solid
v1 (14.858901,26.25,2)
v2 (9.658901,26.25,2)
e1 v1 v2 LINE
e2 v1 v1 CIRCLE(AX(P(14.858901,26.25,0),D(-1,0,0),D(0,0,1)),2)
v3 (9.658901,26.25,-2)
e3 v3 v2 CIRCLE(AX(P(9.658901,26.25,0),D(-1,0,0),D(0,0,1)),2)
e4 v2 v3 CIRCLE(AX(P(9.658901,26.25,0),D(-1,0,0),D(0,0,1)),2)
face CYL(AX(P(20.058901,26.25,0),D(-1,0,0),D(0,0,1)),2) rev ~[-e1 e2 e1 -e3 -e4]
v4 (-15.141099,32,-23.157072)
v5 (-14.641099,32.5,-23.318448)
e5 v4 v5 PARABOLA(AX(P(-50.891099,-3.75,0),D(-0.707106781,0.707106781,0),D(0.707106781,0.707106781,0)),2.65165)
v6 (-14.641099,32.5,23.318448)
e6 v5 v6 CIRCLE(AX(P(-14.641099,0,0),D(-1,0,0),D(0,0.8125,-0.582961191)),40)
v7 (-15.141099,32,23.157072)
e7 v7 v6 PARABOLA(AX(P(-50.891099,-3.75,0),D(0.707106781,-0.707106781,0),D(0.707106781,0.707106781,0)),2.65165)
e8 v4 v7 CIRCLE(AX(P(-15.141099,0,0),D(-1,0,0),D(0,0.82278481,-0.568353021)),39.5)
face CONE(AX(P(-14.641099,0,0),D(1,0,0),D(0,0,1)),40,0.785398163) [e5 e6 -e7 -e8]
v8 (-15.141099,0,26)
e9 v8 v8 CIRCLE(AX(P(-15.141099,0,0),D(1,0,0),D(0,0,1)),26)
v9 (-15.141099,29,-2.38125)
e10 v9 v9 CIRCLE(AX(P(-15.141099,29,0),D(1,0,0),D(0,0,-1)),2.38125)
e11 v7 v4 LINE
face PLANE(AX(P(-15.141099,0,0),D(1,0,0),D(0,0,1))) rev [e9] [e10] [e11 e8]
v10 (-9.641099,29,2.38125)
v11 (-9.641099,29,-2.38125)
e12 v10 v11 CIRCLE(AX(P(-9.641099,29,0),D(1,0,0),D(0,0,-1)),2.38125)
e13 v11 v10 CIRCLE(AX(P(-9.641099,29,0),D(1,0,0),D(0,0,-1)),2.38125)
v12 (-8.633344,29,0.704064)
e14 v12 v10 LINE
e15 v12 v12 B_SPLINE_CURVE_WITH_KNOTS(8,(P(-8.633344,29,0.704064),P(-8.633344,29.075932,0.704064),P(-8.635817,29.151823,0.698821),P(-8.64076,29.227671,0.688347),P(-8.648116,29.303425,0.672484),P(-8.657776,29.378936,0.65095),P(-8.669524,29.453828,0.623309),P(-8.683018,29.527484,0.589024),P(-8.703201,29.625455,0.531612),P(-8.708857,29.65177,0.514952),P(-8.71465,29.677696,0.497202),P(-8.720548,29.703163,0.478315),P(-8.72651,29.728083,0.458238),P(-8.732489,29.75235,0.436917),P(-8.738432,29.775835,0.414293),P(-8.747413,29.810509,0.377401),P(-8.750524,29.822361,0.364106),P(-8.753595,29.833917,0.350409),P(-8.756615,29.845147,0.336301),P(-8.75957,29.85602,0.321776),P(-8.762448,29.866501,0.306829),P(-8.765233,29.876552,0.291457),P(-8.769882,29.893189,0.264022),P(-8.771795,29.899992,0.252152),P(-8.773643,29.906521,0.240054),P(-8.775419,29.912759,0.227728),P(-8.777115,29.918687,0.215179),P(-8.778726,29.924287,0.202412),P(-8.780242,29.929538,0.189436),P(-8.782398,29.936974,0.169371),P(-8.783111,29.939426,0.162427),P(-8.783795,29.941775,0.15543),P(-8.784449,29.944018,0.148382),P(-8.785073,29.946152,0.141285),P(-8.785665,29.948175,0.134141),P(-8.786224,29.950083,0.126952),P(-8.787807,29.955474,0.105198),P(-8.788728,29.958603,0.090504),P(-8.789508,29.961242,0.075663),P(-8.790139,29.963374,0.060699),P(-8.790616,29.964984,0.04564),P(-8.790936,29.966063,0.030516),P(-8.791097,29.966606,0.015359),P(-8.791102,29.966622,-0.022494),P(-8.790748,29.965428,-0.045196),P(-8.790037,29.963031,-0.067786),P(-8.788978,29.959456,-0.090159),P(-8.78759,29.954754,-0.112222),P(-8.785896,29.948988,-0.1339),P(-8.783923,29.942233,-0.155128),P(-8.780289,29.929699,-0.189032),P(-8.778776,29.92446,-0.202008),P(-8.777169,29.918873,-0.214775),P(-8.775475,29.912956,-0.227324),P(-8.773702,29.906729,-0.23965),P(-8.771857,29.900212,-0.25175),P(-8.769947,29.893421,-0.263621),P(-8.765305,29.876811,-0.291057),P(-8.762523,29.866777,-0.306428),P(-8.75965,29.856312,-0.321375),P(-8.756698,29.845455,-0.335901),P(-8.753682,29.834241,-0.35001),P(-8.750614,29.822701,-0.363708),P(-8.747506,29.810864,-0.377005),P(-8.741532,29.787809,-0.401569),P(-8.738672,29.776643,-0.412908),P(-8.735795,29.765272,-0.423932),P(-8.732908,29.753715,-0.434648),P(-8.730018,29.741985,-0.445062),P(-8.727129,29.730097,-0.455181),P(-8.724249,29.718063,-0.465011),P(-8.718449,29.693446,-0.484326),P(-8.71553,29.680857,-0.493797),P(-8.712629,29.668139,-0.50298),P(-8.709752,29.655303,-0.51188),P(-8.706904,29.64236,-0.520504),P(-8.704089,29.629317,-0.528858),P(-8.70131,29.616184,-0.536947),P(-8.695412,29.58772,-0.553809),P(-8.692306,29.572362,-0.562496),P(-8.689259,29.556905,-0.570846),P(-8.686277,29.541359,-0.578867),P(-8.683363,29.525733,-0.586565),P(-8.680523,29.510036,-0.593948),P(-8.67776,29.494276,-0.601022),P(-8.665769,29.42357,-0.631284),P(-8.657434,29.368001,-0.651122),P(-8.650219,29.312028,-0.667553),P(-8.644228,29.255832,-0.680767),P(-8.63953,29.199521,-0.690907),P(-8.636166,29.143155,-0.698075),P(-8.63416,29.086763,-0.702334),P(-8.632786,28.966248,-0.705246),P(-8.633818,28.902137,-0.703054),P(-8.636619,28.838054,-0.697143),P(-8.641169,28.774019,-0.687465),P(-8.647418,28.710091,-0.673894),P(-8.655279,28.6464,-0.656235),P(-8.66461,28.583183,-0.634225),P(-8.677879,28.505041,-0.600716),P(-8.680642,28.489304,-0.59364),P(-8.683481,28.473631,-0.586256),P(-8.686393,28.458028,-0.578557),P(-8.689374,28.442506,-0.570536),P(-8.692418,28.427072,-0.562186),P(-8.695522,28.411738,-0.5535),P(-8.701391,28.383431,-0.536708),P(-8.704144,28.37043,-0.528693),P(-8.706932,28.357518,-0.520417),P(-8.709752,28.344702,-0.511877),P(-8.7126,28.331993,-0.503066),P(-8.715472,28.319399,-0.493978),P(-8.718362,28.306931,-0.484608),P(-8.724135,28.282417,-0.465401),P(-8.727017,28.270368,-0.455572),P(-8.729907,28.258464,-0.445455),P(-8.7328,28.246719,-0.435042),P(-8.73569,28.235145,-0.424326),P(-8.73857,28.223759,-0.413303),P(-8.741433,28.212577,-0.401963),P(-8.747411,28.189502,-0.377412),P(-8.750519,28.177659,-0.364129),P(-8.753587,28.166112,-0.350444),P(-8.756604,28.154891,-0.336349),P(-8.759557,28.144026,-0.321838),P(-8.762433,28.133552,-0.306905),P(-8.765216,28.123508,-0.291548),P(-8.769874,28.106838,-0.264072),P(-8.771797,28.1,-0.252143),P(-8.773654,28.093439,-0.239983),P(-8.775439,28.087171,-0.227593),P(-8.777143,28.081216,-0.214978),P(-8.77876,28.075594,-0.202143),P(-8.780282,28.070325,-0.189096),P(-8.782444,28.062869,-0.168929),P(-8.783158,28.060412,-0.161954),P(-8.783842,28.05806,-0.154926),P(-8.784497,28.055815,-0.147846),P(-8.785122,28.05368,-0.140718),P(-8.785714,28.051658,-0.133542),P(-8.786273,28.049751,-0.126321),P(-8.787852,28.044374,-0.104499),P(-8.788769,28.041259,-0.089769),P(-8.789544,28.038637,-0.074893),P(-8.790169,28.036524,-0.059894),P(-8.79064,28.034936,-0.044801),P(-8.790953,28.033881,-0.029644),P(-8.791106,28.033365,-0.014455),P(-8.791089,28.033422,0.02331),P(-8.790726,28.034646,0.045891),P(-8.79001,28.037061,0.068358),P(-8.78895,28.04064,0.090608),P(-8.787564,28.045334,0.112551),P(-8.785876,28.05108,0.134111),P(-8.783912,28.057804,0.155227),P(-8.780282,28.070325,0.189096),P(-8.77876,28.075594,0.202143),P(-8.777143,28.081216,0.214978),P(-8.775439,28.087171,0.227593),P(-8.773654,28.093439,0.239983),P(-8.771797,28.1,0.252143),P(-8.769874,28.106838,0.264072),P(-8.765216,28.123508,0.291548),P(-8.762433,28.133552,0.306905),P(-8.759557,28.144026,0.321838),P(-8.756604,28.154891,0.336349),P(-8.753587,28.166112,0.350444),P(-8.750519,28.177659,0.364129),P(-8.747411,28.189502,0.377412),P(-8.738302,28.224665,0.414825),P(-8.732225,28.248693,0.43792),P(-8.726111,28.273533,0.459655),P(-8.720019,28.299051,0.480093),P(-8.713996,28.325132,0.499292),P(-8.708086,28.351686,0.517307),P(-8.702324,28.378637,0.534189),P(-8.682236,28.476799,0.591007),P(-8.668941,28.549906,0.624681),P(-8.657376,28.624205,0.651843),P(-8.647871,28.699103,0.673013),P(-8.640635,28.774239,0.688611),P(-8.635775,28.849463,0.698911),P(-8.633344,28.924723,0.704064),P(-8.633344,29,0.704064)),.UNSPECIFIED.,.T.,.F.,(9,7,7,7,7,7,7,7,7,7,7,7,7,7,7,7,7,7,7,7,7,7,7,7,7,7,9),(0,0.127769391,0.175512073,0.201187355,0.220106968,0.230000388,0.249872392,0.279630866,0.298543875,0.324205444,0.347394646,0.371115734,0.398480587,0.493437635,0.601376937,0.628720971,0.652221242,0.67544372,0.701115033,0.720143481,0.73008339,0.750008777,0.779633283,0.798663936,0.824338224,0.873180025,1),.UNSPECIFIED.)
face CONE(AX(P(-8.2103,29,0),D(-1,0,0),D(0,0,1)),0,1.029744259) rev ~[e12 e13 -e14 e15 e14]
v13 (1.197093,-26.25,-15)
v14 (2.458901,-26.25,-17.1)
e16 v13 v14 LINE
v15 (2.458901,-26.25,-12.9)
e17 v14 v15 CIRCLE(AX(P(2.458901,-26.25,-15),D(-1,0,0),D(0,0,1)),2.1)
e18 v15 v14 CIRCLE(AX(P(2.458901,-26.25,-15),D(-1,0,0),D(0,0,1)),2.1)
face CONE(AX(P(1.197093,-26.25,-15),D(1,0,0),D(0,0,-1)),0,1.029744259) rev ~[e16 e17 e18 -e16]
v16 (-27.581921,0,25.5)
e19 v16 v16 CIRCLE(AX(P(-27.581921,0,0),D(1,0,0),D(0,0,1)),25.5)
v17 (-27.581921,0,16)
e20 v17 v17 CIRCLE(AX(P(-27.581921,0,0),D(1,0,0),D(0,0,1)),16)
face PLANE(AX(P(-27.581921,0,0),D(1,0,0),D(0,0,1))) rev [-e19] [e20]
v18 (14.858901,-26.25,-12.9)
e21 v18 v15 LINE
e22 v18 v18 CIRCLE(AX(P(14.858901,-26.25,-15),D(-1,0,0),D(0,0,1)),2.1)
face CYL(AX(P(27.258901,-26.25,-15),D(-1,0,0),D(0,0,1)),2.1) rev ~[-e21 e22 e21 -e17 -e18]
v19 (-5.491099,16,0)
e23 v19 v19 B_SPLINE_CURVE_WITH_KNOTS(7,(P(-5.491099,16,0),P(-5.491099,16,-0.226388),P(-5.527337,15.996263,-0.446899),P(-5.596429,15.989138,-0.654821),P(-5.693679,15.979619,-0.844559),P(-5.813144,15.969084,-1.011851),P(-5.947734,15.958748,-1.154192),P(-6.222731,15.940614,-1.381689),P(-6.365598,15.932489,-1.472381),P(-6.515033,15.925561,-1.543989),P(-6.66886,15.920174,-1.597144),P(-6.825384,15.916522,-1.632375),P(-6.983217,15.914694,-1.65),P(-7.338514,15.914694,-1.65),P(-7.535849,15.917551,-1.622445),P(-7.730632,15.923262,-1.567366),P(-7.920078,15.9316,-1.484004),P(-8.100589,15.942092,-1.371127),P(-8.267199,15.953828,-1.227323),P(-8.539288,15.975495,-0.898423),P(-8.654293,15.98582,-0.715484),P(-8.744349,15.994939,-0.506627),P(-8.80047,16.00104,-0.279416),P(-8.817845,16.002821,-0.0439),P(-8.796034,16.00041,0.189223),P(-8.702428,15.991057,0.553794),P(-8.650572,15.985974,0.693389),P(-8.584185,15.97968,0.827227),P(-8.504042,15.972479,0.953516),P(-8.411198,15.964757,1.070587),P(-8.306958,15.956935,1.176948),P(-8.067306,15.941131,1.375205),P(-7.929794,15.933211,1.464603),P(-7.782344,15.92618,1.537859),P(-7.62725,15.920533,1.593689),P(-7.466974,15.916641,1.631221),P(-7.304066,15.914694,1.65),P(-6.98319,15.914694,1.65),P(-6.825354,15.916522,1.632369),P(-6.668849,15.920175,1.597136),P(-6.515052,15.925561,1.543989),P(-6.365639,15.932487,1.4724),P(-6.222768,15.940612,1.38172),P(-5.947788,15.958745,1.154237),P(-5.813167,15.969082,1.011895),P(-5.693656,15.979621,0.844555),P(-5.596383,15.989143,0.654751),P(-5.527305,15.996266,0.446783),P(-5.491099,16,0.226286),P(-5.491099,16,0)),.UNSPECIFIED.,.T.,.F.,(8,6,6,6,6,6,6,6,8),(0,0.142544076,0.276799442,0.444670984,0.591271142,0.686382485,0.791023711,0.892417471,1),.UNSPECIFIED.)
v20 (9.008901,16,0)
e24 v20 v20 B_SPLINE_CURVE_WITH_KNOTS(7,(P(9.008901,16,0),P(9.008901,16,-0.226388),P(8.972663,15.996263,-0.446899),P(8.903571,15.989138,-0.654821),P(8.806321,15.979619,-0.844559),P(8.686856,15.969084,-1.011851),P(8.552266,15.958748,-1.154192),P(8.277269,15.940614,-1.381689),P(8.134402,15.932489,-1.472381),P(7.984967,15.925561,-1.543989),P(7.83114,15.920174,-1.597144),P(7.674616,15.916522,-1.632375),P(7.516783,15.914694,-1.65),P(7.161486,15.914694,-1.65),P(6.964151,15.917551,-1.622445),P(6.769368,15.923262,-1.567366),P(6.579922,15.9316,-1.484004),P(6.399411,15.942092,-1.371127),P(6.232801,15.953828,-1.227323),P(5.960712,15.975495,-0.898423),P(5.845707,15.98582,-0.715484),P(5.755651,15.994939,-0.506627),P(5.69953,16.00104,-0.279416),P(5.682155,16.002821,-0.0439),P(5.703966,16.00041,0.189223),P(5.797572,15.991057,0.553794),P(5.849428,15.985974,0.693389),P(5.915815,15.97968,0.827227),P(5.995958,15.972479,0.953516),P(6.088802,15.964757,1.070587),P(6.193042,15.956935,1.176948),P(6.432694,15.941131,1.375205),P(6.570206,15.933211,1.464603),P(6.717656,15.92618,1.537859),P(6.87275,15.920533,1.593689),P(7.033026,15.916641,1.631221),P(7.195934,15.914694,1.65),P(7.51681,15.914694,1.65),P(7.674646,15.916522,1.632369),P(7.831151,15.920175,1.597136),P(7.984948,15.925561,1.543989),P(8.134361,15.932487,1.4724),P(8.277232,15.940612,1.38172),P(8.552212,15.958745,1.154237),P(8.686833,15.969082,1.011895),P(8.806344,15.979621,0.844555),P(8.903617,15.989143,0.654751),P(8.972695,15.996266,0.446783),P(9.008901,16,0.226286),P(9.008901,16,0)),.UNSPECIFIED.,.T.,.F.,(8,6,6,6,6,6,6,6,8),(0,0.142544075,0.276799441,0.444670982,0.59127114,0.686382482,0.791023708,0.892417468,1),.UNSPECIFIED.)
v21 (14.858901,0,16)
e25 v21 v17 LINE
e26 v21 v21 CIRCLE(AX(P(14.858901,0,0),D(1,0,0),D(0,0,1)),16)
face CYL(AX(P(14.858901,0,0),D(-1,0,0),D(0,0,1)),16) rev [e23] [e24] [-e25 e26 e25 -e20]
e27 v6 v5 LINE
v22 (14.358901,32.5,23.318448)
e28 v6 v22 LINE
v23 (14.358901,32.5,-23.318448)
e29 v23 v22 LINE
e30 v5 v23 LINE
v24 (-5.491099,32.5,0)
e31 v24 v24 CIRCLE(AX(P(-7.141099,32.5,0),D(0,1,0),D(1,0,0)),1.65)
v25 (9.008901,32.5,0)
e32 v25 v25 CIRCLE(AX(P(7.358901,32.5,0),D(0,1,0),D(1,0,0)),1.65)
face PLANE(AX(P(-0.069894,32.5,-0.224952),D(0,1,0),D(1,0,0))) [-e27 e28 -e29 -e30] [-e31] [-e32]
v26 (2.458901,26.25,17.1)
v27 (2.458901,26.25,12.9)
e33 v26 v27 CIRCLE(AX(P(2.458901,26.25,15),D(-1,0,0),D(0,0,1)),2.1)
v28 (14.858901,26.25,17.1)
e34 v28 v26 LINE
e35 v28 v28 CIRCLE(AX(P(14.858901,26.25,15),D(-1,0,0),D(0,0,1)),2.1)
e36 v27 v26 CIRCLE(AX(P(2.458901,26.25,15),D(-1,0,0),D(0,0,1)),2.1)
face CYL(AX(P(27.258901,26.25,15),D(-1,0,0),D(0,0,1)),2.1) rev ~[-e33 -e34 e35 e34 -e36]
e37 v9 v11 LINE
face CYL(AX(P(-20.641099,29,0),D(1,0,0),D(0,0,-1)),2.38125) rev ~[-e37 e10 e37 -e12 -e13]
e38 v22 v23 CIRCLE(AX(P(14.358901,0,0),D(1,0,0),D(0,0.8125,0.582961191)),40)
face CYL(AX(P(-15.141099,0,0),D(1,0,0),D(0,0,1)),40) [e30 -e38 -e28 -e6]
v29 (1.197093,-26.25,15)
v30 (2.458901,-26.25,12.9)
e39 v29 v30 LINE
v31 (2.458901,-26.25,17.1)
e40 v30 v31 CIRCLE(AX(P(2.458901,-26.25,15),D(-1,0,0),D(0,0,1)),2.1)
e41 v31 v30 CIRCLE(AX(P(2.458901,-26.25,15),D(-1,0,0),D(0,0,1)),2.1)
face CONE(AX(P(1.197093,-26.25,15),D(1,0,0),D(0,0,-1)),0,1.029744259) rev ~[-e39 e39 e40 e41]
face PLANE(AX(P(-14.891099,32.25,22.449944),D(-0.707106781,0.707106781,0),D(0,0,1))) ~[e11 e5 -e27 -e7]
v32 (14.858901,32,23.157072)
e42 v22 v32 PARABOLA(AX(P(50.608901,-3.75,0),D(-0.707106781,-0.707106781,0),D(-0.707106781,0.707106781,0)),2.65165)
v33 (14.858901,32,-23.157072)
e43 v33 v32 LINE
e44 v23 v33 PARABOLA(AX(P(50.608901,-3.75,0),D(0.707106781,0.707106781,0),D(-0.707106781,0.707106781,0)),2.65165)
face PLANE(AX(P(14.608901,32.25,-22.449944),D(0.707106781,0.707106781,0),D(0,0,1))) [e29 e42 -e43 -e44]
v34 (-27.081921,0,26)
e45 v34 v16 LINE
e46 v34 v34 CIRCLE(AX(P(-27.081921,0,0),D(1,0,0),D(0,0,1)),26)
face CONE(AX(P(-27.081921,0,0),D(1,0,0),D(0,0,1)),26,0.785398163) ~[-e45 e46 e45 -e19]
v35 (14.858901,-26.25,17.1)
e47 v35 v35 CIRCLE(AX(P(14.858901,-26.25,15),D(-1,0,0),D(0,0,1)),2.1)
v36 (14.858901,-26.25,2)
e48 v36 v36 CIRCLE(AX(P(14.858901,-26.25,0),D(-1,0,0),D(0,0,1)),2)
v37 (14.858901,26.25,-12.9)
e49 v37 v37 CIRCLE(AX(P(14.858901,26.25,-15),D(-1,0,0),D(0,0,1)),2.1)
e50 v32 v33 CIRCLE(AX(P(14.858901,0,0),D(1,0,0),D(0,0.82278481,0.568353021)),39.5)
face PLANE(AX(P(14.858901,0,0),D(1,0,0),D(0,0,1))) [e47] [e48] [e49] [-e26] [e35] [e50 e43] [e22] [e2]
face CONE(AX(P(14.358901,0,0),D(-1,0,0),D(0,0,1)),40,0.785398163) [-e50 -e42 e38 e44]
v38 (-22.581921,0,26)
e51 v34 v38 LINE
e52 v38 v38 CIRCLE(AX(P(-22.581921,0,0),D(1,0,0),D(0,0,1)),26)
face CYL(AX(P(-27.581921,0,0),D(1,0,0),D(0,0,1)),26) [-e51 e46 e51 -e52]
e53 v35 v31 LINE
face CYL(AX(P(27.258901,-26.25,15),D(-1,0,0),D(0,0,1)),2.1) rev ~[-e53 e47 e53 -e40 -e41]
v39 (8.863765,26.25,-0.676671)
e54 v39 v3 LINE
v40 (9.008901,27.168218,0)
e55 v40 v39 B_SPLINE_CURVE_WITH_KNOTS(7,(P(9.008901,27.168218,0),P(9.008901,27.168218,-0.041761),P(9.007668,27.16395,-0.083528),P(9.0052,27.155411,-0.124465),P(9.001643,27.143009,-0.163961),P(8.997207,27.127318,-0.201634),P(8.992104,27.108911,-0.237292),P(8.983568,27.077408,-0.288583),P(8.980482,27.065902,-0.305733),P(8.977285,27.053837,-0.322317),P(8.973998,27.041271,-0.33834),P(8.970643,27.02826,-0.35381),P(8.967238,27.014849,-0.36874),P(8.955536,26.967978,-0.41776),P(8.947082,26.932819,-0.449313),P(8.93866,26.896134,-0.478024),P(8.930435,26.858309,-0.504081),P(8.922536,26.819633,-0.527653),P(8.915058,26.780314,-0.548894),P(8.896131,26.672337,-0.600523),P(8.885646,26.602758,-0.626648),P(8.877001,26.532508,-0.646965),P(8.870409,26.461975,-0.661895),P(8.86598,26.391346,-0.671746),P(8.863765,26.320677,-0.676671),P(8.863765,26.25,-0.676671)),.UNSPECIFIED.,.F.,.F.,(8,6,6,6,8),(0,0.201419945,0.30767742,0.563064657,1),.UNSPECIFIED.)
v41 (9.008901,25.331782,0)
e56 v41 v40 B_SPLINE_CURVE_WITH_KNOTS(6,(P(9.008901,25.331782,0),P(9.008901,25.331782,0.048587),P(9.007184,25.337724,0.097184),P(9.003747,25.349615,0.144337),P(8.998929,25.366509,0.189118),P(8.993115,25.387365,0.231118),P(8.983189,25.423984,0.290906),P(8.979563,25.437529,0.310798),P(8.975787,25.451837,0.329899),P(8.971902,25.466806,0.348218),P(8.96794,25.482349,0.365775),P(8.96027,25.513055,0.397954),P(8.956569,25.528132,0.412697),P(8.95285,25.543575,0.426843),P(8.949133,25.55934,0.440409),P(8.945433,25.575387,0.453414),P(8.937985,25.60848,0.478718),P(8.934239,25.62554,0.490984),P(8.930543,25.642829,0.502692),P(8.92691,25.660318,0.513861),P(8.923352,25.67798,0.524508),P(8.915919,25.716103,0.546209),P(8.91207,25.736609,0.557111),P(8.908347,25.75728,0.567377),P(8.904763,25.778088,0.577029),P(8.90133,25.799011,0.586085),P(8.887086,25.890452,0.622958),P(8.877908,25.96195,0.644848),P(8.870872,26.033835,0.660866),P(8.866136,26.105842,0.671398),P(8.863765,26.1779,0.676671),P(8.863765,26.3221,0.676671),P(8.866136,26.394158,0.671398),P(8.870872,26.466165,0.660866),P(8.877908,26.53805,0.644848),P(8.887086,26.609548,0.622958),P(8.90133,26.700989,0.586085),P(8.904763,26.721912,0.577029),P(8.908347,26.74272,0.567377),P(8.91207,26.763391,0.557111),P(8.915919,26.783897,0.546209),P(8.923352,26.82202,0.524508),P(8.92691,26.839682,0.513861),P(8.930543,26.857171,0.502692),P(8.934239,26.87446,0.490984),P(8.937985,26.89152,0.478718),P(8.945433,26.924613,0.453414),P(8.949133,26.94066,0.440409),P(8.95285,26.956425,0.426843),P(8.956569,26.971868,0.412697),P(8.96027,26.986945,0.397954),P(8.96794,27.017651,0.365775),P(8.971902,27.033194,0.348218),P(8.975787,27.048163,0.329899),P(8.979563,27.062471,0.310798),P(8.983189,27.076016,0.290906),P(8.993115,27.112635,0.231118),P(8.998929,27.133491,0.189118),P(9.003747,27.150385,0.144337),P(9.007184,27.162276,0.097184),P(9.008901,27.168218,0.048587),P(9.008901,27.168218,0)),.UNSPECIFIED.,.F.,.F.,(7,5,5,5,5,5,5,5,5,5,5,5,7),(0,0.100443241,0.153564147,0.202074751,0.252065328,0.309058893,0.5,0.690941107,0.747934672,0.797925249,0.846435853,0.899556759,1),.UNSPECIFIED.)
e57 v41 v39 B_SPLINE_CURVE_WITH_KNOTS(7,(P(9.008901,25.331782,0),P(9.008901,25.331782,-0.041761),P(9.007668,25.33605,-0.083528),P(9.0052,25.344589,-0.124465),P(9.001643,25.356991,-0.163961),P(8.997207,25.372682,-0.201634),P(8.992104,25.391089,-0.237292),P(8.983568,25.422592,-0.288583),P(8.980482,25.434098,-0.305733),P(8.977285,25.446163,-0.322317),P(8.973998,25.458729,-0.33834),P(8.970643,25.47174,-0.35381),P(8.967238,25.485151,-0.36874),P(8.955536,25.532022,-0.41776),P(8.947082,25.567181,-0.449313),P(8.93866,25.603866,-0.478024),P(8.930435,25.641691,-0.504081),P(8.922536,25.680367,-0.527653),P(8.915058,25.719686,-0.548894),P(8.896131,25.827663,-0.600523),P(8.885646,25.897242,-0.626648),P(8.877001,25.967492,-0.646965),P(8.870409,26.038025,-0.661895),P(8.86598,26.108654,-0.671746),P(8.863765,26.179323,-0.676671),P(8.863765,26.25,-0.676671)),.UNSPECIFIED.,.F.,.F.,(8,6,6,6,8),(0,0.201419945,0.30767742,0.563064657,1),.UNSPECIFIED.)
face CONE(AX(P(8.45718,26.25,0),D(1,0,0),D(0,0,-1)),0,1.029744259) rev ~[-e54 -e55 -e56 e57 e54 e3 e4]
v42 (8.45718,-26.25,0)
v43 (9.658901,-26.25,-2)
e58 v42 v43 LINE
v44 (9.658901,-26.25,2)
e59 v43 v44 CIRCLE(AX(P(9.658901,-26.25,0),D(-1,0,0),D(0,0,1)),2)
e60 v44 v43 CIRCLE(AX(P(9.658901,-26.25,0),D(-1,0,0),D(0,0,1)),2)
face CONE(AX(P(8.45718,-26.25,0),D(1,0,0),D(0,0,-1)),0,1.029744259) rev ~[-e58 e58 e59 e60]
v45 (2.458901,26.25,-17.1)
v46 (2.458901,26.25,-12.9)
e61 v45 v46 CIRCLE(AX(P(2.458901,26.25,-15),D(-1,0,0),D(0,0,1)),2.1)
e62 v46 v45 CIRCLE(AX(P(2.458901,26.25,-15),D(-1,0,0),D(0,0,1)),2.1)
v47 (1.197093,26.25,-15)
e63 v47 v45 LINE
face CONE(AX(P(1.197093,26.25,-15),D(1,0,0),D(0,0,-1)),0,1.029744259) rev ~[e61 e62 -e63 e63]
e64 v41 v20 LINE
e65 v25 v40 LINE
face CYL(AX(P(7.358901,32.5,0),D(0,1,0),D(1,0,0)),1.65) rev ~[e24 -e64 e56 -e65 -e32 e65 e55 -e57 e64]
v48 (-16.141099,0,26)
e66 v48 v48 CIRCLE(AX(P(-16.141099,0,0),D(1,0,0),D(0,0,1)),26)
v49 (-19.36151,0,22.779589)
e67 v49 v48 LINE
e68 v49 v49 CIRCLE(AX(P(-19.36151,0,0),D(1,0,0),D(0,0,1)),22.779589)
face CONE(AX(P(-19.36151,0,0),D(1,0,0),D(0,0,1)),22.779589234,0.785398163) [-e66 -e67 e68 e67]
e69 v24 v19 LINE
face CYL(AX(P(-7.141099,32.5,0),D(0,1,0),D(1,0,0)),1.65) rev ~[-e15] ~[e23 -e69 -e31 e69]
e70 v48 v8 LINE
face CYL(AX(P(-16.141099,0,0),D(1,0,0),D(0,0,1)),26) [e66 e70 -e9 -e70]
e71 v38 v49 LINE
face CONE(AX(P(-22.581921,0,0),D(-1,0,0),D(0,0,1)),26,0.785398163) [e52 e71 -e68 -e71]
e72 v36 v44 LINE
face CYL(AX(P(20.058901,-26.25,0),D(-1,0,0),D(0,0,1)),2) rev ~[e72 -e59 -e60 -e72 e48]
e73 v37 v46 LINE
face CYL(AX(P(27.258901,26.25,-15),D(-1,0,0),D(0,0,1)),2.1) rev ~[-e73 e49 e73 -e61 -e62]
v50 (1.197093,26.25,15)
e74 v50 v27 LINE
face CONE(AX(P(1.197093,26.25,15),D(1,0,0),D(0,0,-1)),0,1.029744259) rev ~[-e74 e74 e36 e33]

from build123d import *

# Parameters (mm, degrees)
CHAMFER1_SIZE                   = 0.5
SKETCH3_W                       = 30.914832272
SKETCH3_H                       = 82.011072724
CUT_EXTRUDE2_DEPTH              = 7.5
CHAMFER2_SIZE                   = 0.5
F_3_16_0_1875_DOWEL_HOLE1_D     = 4.7625
F_3_16_0_1875_DOWEL_HOLE1_DEPTH = 5.5
F_3_16_0_1875_DOWEL_HOLE1_TIP   = 1.430799349
M5X0_8_TAPPED_HOLE1_D           = 4.2
M5X0_8_TAPPED_HOLE1_DEPTH       = 12.4
M5X0_8_TAPPED_HOLE1_TIP         = 1.2618073
F_4_0MM_DOWEL_HOLE1_D           = 4
F_4_0MM_DOWEL_HOLE1_DEPTH       = 5.2
F_4_0MM_DOWEL_HOLE1_TIP         = 1.201721238
M4X0_7_TAPPED_HOLE1_REACH       = 89.275
M4X0_7_TAPPED_HOLE1_BORE_R      = 1.65


with BuildPart() as part:
    # Sketch1 → Revolve1 (revolve)
    with BuildSketch(Plane.XY, mode=Mode.PRIVATE) as revolve1_sk:
        Polygon((-27.58192079, 26), (-22.58192079, 26), (-19.361510024, 22.779589234), (-16.141099258, 26), (-15.141099258, 26), (-15.141099258, 40), (14.858900742, 40), (14.858900742, 16), (-27.58192079, 16), align=None)
    revolve(revolve1_sk.sketch.rotate(Axis((-39.738562092, 0, 0), (1, 0, 0)), 90), axis=Axis((-39.738562092, 0, 0), (1, 0, 0)))

    # Chamfer1
    chamfer1_edges = [part.edges().sort_by_distance(p)[0] for p in [
        (-27.58192079, 0, -26),
        (14.858900742, 0, -40),
        (-15.141099258, 0, -40),
    ]]
    chamfer(chamfer1_edges, length=CHAMFER1_SIZE)

    # Sketch3 → Cut-Extrude2 (cut)
    with BuildSketch(Plane(origin=(0, 40, 0), x_dir=(1, 0, 0), z_dir=(0, 1, 0))):
        with Locations((-0.069893973, 0.224952002)):
            Rectangle(SKETCH3_W, SKETCH3_H)
    extrude(amount=-CUT_EXTRUDE2_DEPTH, mode=Mode.SUBTRACT)

    # Chamfer2
    chamfer2_edges = [part.edges().sort_by_distance(p)[0] for p in [
        (14.858900742, 32.5, 0),
        (-15.141099258, 32.5, 0),
    ]]
    chamfer(chamfer2_edges, length=CHAMFER2_SIZE)

    # 3/16 (0.1875) Dowel Hole1
    with Locations(Plane.ZY.offset(15.141099258)):
        with Locations((0, 29)):
            Hole(F_3_16_0_1875_DOWEL_HOLE1_D / 2, depth=F_3_16_0_1875_DOWEL_HOLE1_DEPTH)
            with Locations((0, 0, -(F_3_16_0_1875_DOWEL_HOLE1_DEPTH + F_3_16_0_1875_DOWEL_HOLE1_TIP / 2))):  # 118° drill point
                Cone(0, F_3_16_0_1875_DOWEL_HOLE1_D / 2, F_3_16_0_1875_DOWEL_HOLE1_TIP, mode=Mode.SUBTRACT)

    # M5x0.8 Tapped Hole1
    with Locations(Plane(origin=(14.858900742, 0, 0), x_dir=(0, 0, -1), z_dir=(1, 0, 0))):
        with Locations((-15, 26.25), (15, 26.25), (-15, -26.25), (15, -26.25)):
            Hole(M5X0_8_TAPPED_HOLE1_D / 2, depth=M5X0_8_TAPPED_HOLE1_DEPTH)
            with Locations((0, 0, -(M5X0_8_TAPPED_HOLE1_DEPTH + M5X0_8_TAPPED_HOLE1_TIP / 2))):  # 118° drill point
                Cone(0, M5X0_8_TAPPED_HOLE1_D / 2, M5X0_8_TAPPED_HOLE1_TIP, mode=Mode.SUBTRACT)

    # Ø4.0mm Dowel Hole1
    with Locations(Plane(origin=(14.858900742, 0, 0), x_dir=(0, 0, -1), z_dir=(1, 0, 0))):
        with Locations((0, 26.25), (0, -26.25)):
            Hole(F_4_0MM_DOWEL_HOLE1_D / 2, depth=F_4_0MM_DOWEL_HOLE1_DEPTH)
            with Locations((0, 0, -(F_4_0MM_DOWEL_HOLE1_DEPTH + F_4_0MM_DOWEL_HOLE1_TIP / 2))):  # 118° drill point
                Cone(0, F_4_0MM_DOWEL_HOLE1_D / 2, F_4_0MM_DOWEL_HOLE1_TIP, mode=Mode.SUBTRACT)

    # M4x0.7 Tapped Hole1 bore → M4x0.7 Tapped Hole1 (cut, up to next)
    with BuildSketch(Plane(origin=(0, 32.5, 0), x_dir=(1, 0, 0), z_dir=(0, 1, 0)), mode=Mode.PRIVATE) as m4x0_7_tapped_hole1_sk1:
        with Locations((-7.141099258, 0)):
            Circle(M4X0_7_TAPPED_HOLE1_BORE_R)
    m4x0_7_tapped_hole1_tool1 = extrude(m4x0_7_tapped_hole1_sk1.sketch, amount=-M4X0_7_TAPPED_HOLE1_REACH, mode=Mode.PRIVATE) & part.part
    # M4x0.7 Tapped Hole1 bore → M4x0.7 Tapped Hole1 (cut, up to next)
    with BuildSketch(Plane(origin=(0, 32.5, 0), x_dir=(1, 0, 0), z_dir=(0, 1, 0)), mode=Mode.PRIVATE) as m4x0_7_tapped_hole1_sk2:
        with Locations((7.358900742, 0)):
            Circle(M4X0_7_TAPPED_HOLE1_BORE_R)
    m4x0_7_tapped_hole1_tool2 = extrude(m4x0_7_tapped_hole1_sk2.sketch, amount=-M4X0_7_TAPPED_HOLE1_REACH, mode=Mode.PRIVATE) & part.part
    add(m4x0_7_tapped_hole1_tool1.solids().sort_by_distance((-7.141099, 32.5, 0))[0], mode=Mode.SUBTRACT)
    add(m4x0_7_tapped_hole1_tool2.solids().sort_by_distance((7.358901, 32.5, 0))[0], mode=Mode.SUBTRACT)


solid = part.part
